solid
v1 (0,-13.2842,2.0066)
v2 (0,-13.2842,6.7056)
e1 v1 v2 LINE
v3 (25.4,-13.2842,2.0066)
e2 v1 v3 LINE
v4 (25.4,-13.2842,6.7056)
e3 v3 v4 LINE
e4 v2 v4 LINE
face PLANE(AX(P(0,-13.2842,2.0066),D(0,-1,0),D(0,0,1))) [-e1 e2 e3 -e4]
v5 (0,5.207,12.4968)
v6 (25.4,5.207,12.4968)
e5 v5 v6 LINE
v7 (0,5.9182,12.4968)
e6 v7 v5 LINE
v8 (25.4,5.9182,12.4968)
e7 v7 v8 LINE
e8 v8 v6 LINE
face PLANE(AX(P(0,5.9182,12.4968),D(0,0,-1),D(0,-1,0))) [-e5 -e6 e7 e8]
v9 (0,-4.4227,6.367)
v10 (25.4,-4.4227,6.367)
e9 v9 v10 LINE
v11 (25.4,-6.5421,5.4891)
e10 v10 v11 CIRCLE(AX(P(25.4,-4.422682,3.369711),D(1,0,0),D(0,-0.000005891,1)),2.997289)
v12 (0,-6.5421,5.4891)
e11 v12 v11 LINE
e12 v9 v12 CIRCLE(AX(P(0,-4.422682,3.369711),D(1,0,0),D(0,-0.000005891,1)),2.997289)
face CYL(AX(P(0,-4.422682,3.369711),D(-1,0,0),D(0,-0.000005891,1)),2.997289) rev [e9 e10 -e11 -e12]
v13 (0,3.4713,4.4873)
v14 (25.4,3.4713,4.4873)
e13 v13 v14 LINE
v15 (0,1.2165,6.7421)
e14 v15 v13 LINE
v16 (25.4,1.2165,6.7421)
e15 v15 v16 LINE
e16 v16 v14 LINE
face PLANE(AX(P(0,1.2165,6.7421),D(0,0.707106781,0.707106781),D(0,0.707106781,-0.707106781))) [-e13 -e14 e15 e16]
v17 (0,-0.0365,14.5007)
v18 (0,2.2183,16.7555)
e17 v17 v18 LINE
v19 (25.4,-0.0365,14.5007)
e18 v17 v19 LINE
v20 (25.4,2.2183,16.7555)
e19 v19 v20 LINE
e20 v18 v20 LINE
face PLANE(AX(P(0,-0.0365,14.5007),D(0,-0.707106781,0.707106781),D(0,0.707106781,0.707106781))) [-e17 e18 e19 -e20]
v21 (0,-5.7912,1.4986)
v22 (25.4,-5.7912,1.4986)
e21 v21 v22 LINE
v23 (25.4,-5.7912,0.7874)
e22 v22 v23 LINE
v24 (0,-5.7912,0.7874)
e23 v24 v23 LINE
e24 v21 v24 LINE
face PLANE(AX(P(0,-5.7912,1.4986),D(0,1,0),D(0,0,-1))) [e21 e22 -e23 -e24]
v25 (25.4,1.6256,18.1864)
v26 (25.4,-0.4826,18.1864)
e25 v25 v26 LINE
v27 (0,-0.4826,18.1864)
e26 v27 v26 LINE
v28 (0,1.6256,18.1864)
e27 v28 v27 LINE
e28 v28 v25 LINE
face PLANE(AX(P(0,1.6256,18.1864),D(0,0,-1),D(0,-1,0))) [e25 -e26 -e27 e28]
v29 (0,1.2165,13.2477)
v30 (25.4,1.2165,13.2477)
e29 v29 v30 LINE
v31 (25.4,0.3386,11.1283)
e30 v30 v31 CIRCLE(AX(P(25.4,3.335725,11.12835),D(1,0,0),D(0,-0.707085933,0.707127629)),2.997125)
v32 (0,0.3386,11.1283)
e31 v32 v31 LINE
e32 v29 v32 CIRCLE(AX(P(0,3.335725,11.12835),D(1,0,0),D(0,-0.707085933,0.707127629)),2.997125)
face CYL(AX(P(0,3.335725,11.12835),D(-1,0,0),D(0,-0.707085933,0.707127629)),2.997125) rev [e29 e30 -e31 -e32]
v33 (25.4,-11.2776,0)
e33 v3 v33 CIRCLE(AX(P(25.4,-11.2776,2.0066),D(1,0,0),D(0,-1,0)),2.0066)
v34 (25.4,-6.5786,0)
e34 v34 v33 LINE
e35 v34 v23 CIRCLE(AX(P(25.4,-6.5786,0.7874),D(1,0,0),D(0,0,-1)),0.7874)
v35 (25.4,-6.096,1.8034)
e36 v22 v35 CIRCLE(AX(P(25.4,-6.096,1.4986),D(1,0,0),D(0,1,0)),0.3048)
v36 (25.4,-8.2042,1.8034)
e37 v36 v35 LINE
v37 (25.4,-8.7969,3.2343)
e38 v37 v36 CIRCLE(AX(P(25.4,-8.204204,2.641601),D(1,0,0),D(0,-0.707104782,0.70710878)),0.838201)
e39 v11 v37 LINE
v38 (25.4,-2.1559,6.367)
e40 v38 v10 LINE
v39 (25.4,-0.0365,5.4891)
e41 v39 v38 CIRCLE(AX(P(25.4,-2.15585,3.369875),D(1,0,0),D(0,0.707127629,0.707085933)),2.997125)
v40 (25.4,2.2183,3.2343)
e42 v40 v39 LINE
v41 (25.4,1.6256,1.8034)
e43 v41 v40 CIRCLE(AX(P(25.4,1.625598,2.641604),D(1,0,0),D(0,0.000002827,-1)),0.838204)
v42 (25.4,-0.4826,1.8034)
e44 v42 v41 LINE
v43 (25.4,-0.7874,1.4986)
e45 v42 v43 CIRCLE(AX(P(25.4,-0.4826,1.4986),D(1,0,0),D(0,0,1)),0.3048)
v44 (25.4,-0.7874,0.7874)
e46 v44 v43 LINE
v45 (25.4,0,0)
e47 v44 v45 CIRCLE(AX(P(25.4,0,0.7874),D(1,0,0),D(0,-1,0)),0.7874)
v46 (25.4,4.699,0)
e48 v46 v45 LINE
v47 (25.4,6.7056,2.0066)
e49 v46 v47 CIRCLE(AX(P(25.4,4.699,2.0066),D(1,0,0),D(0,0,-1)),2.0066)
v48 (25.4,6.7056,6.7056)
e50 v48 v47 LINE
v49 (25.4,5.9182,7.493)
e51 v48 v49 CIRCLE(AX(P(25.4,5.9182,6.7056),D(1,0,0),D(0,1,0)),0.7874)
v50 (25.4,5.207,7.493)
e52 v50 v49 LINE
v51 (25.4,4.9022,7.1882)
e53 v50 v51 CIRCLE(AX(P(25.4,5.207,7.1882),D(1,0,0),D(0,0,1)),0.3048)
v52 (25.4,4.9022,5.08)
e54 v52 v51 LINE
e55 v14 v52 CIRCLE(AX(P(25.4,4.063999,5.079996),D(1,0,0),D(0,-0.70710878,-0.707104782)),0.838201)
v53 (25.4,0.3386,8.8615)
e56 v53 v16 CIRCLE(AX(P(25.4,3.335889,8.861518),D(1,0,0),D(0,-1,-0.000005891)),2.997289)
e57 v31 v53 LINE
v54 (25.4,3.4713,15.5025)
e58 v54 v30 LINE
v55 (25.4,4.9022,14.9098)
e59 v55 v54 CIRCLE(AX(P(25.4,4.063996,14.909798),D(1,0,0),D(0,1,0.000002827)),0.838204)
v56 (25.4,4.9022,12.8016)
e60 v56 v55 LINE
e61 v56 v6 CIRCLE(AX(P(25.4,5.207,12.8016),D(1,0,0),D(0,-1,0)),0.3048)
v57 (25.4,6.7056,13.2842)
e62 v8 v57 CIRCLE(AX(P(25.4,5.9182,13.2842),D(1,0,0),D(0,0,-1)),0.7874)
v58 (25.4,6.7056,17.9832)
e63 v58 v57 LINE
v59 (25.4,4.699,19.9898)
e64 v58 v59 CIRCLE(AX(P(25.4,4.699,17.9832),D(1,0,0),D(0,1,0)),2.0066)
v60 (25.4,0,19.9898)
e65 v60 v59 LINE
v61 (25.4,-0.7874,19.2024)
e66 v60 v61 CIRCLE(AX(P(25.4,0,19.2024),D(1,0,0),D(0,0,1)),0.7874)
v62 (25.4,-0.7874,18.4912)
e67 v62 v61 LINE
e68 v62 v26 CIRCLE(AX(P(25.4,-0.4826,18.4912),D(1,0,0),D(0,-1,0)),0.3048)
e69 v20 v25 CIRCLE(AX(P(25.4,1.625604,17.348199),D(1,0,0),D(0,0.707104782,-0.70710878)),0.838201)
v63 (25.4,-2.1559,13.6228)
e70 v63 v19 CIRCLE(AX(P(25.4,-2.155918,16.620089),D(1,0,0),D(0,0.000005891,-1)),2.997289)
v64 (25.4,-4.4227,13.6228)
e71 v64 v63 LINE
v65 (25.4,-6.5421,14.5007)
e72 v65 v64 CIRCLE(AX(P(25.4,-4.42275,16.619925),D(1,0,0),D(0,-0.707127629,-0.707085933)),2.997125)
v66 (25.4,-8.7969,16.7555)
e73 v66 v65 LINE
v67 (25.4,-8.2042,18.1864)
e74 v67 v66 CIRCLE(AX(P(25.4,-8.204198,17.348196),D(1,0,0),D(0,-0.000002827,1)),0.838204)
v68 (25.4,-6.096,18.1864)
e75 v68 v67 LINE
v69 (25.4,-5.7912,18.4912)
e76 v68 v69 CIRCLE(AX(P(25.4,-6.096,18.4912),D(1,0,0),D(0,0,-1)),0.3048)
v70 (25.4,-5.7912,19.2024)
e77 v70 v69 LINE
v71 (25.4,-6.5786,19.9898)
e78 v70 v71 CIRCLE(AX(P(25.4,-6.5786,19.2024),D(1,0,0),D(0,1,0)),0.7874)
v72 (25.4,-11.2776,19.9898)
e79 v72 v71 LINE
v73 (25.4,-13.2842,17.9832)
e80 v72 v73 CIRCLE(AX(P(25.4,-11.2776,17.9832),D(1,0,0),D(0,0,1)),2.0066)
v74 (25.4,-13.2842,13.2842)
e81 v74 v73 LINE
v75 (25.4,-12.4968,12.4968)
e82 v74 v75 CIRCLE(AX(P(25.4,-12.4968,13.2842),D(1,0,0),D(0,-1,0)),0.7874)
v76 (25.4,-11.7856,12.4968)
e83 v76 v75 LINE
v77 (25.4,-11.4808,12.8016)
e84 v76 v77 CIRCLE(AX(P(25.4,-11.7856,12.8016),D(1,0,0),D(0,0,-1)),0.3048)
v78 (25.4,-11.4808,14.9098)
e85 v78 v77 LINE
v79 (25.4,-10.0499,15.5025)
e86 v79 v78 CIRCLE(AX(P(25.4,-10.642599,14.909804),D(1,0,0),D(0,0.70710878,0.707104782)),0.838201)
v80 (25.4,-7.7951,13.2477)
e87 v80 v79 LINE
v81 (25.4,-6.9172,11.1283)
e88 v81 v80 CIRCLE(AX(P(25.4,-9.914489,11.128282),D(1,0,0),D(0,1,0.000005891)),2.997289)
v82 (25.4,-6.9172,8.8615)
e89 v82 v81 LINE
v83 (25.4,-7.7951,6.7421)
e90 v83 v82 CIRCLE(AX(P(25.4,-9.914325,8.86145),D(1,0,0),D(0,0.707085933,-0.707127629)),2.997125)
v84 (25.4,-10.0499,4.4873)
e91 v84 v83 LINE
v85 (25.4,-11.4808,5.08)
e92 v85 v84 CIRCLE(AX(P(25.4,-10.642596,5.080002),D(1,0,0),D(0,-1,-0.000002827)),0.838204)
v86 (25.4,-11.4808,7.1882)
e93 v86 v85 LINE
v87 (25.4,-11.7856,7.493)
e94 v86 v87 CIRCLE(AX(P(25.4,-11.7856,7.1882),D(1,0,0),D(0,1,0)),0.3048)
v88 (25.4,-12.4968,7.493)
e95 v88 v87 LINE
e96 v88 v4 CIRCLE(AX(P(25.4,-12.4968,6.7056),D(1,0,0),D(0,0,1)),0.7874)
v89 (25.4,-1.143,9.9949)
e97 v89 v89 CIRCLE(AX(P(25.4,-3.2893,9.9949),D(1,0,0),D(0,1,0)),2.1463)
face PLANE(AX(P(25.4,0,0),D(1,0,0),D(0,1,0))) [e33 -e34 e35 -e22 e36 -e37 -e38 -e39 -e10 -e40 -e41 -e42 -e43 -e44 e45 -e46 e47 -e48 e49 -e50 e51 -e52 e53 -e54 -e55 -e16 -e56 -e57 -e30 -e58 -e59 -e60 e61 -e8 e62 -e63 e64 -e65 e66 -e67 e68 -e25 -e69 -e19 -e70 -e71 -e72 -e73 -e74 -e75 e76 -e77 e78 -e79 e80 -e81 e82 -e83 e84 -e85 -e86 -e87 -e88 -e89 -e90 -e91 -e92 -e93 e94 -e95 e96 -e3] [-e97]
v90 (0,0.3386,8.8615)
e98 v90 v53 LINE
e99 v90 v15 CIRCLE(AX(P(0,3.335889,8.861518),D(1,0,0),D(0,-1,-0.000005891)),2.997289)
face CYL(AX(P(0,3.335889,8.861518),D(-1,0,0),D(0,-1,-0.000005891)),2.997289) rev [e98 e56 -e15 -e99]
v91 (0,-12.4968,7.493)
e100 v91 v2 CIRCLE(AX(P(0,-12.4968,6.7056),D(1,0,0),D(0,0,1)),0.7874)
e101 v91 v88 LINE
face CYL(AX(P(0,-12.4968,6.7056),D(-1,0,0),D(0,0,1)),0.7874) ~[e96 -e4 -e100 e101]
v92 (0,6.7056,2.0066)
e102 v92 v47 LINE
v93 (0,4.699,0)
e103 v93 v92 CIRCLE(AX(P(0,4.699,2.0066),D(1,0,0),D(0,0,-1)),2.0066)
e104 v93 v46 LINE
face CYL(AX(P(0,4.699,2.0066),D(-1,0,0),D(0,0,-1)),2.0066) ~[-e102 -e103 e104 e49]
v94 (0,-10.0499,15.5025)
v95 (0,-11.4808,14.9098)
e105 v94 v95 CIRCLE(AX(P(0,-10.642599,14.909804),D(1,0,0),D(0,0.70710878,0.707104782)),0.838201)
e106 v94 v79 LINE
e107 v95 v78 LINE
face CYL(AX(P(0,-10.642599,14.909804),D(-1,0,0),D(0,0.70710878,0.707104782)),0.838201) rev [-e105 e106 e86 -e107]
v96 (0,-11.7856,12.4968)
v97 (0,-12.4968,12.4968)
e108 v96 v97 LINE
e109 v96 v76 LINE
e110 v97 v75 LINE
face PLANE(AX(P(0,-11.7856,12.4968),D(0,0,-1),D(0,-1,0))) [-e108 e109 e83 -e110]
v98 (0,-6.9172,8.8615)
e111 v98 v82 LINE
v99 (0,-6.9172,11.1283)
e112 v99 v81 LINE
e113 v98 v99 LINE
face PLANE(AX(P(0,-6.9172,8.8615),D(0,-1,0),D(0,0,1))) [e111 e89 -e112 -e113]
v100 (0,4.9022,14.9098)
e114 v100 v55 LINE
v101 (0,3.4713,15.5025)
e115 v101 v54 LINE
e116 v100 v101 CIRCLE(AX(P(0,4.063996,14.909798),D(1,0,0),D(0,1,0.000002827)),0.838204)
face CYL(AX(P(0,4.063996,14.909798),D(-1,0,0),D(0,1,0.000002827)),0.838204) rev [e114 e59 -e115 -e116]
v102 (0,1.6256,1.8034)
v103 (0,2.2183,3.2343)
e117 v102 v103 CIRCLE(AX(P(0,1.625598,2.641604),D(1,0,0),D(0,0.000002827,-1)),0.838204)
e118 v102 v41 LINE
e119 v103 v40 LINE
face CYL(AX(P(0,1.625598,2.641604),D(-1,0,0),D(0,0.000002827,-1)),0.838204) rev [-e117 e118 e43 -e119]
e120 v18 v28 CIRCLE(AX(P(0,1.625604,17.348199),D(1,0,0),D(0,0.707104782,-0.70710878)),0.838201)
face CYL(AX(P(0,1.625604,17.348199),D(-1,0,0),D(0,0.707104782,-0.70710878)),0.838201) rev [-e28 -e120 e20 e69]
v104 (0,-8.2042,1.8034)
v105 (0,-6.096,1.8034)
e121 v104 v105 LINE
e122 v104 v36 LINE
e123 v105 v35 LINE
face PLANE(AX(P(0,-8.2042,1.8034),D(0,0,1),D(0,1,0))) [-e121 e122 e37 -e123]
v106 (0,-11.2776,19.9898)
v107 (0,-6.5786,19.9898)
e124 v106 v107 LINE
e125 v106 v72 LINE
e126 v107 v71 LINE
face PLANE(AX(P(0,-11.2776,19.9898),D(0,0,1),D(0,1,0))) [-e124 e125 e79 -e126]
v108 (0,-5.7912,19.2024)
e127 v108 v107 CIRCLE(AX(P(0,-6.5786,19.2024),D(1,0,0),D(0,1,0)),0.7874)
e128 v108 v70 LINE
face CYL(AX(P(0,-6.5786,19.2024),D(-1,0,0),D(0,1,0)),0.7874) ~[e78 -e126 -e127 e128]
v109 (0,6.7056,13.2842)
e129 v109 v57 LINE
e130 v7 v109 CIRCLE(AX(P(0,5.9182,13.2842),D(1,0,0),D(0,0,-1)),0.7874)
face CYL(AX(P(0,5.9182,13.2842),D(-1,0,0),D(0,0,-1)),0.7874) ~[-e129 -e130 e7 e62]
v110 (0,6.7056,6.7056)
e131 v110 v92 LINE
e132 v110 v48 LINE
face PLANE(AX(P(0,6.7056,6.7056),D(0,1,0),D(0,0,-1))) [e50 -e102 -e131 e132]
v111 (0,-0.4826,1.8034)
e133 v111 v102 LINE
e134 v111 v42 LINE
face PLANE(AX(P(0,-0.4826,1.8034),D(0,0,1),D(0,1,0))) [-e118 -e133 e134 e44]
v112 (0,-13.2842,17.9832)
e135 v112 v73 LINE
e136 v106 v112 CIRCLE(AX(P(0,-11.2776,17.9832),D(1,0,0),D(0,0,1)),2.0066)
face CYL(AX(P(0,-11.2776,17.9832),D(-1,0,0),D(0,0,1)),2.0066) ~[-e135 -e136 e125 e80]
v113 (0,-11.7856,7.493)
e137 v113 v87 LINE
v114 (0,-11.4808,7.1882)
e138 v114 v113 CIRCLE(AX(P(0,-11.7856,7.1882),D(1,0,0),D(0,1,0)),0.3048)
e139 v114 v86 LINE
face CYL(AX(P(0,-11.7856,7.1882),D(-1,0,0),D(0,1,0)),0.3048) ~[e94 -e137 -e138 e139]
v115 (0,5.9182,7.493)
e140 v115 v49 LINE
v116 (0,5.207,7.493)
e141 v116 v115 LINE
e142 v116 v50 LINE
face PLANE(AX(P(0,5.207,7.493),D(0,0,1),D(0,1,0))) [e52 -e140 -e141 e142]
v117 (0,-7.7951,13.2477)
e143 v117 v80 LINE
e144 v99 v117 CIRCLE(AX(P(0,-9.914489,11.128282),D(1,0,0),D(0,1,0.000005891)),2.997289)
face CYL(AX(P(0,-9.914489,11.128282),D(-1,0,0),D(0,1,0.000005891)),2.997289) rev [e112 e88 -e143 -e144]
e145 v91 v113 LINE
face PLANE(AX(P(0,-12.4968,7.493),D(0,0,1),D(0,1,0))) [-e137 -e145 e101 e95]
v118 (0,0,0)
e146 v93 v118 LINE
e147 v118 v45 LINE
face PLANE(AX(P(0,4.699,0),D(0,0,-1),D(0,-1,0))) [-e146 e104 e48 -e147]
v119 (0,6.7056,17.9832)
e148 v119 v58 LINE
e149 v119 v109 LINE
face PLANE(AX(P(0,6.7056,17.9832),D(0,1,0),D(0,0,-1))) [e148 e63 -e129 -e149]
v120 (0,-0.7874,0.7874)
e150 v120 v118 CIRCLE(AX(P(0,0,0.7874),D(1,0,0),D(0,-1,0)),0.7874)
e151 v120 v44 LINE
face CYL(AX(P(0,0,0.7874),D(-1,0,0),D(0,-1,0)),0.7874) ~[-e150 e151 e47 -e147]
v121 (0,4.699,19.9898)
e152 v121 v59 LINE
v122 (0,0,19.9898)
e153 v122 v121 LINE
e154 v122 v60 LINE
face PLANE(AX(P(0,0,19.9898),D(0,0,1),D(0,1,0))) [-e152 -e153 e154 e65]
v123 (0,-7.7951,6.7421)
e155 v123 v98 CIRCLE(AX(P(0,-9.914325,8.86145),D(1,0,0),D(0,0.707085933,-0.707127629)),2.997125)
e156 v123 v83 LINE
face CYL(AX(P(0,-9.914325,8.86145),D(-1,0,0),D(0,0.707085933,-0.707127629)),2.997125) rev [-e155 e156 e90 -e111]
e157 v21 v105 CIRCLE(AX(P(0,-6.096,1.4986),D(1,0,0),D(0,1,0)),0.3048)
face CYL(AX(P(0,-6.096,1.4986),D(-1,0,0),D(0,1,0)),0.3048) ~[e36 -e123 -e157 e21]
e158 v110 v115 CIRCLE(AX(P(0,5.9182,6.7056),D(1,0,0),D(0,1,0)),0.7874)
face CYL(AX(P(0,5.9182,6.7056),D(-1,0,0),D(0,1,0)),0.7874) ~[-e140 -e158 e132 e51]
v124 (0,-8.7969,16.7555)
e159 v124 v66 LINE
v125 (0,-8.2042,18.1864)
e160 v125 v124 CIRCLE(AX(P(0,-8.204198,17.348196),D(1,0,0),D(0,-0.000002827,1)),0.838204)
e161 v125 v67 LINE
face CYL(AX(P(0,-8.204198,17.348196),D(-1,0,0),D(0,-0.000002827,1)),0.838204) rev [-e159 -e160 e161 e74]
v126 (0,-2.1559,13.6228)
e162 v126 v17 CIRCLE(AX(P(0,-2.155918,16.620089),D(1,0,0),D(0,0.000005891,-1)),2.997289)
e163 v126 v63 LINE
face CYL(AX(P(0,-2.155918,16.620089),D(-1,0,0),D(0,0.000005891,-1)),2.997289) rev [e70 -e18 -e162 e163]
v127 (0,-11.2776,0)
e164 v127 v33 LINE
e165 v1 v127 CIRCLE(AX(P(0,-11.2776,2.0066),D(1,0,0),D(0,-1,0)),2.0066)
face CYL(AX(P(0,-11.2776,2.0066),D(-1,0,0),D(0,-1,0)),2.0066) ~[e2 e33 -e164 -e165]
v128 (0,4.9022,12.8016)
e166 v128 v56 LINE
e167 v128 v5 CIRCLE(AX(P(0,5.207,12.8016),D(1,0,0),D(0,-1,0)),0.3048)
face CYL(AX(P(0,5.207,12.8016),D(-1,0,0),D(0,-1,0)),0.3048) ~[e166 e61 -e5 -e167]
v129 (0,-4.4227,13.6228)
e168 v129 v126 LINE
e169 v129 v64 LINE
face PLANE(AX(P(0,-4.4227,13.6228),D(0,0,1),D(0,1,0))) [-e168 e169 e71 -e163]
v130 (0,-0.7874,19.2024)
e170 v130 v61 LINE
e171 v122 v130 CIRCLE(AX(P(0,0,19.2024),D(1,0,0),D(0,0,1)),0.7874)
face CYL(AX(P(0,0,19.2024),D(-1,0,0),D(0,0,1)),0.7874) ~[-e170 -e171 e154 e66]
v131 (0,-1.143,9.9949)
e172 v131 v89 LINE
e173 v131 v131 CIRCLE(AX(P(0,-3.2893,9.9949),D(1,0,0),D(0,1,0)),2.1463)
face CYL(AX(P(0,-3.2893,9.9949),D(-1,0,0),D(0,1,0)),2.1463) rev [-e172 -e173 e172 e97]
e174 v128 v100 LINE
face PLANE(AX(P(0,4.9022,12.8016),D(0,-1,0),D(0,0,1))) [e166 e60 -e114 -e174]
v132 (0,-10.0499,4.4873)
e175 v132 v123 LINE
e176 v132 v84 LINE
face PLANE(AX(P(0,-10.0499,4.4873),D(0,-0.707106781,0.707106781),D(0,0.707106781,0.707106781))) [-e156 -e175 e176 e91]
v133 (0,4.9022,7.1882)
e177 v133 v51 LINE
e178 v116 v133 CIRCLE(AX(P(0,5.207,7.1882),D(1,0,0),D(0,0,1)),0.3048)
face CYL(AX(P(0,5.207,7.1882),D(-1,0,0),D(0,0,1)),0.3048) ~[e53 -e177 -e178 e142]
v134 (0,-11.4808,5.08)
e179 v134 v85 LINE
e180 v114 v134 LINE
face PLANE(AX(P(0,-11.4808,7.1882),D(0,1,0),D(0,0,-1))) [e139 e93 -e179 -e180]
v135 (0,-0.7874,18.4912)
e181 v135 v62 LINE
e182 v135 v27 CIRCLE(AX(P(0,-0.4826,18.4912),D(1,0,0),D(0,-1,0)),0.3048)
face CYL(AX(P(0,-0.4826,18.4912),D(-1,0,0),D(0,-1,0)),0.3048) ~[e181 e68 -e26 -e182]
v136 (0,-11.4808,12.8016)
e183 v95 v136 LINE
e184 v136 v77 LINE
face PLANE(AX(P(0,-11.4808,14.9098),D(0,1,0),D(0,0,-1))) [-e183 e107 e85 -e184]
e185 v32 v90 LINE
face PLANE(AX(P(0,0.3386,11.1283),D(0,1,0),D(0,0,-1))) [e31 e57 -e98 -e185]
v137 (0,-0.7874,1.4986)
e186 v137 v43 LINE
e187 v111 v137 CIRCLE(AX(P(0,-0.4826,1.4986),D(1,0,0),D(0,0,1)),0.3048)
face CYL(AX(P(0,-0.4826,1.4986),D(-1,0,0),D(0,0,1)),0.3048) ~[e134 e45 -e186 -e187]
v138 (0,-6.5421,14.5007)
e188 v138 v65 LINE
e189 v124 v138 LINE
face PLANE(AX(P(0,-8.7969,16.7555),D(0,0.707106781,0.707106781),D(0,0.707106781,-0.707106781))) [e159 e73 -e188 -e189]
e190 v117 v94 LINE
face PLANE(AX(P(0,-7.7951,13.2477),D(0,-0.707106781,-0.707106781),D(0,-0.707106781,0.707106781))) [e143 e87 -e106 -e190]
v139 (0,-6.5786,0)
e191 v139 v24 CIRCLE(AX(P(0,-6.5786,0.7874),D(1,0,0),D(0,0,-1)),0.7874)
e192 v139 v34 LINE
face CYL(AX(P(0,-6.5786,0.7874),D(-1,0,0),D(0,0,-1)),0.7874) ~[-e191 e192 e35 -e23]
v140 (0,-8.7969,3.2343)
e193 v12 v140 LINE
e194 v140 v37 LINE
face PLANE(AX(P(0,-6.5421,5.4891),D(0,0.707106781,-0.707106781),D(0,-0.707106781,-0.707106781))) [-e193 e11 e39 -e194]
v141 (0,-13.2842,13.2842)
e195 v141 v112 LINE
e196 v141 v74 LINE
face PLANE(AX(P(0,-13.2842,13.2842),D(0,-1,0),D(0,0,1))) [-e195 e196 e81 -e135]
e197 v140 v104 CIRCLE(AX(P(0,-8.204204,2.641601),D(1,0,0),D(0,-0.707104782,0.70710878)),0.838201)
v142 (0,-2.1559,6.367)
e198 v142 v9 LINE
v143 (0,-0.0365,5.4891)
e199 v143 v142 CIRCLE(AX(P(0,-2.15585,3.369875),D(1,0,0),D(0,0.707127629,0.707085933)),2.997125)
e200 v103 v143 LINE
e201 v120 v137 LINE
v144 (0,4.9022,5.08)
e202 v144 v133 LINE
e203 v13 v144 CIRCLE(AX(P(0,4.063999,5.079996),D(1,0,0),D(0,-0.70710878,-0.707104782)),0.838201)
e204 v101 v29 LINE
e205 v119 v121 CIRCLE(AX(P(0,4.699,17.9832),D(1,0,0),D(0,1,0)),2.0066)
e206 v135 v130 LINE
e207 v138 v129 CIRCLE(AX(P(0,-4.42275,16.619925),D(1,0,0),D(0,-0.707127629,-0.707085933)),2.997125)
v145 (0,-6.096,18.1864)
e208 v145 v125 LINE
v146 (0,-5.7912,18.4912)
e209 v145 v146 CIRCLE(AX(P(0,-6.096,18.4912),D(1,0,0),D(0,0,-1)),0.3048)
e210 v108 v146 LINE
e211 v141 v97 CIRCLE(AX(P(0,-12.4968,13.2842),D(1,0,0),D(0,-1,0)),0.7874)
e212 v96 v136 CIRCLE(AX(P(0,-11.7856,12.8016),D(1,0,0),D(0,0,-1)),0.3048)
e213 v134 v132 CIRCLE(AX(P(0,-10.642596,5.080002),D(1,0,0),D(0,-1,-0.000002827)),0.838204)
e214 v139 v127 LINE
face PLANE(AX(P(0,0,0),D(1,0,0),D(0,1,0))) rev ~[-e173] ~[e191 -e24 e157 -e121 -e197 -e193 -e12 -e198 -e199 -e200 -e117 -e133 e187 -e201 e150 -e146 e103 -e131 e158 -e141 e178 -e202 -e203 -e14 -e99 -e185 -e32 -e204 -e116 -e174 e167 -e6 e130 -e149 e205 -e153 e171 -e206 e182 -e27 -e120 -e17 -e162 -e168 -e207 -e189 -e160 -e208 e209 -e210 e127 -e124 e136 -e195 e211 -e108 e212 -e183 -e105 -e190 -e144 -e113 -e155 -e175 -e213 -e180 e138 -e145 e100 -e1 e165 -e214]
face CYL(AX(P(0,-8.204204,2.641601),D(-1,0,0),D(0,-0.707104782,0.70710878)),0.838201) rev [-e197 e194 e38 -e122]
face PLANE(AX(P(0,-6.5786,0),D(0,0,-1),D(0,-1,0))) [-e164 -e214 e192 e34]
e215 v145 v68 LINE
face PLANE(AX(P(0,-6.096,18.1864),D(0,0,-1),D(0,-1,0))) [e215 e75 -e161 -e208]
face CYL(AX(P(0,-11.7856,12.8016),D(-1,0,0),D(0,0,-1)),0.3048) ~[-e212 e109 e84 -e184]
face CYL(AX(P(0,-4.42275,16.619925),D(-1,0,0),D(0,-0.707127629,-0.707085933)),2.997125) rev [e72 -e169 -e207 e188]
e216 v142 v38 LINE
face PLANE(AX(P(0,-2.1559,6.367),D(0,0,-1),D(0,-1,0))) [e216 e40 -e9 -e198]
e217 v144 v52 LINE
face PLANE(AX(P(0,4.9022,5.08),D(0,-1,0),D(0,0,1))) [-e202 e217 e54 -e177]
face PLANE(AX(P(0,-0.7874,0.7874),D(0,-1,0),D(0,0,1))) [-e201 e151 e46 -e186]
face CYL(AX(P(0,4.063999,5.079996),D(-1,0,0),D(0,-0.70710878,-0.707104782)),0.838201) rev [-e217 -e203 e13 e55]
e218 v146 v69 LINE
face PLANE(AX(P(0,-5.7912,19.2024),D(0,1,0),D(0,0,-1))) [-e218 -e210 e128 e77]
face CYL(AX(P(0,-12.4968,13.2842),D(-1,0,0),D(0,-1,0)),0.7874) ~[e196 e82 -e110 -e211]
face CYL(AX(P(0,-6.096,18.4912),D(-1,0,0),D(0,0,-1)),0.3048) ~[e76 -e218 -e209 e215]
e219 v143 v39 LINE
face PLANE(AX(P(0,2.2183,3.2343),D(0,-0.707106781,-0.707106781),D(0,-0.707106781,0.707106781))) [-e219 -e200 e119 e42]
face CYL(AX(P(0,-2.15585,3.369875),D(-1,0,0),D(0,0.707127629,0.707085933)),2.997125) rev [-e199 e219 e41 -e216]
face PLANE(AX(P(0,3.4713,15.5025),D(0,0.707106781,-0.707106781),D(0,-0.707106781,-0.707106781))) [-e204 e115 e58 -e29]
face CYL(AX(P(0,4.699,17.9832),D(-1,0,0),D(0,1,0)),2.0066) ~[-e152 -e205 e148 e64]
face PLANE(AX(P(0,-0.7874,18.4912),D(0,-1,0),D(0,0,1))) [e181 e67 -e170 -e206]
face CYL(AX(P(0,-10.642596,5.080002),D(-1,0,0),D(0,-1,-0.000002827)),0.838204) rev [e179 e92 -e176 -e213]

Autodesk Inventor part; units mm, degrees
ref_plane "YZ Plane" through (0, 0, 0) normal (1, 0, 0) x (0, 1, 0)
ref_plane "XZ Plane" through (0, 0, 0) normal (0, 1, 0) x (-1, 0, 0)
ref_plane "XY Plane" through (0, 0, 0) normal (0, 0, 1) x (1, 0, 0)
sketch "Sketch1" plane through (0, 0, 0) normal (1, 0, 0) x (0, 1, 0)
  circle A0 centre (-3.2893, 9.9949) radius 2.1463
  line L0 (2.2183, 3.2343) -> (-0.0365, 5.4891)
  arc A1 (1.6256, 1.8034) -> (2.2183, 3.2343) centre (1.6256, 2.6416) ccw
  line L1 (-0.4826, 1.8034) -> (1.6256, 1.8034)
  arc A2 (-0.4826, 1.8034) -> (-0.7874, 1.4986) centre (-0.4826, 1.4986) ccw
  line L2 (-0.7874, 0.7874) -> (-0.7874, 1.4986)
  arc A3 (-0.7874, 0.7874) -> (0, 0) centre (0, 0.7874) ccw
  line L3 (4.699, 0) -> (0, 0)
  arc A4 (4.699, 0) -> (6.7056, 2.0066) centre (4.699, 2.0066) ccw
  line L4 (6.7056, 6.7056) -> (6.7056, 2.0066)
  arc A5 (6.7056, 6.7056) -> (5.9182, 7.493) centre (5.9182, 6.7056) ccw
  line L5 (5.207, 7.493) -> (5.9182, 7.493)
  arc A6 (5.207, 7.493) -> (4.9022, 7.1882) centre (5.207, 7.1882) ccw
  line L6 (4.9022, 5.08) -> (4.9022, 7.1882)
  arc A7 (3.4713, 4.4873) -> (4.9022, 5.08) centre (4.064, 5.08) ccw
  line L7 (1.2165, 6.7421) -> (3.4713, 4.4873)
  arc A8 (0.3386, 8.8615) -> (1.2165, 6.7421) centre (3.3358, 8.8615) ccw
  line L8 (0.3386, 11.1283) -> (0.3386, 8.8615)
  arc A9 (1.2165, 13.2477) -> (0.3386, 11.1283) centre (3.3358, 11.1283) ccw
  line L9 (3.4713, 15.5025) -> (1.2165, 13.2477)
  arc A10 (4.9022, 14.9098) -> (3.4713, 15.5025) centre (4.064, 14.9098) ccw
  line L10 (4.9022, 12.8016) -> (4.9022, 14.9098)
  arc A11 (4.9022, 12.8016) -> (5.207, 12.4968) centre (5.207, 12.8016) ccw
  line L11 (5.9182, 12.4968) -> (5.207, 12.4968)
  arc A12 (5.9182, 12.4968) -> (6.7056, 13.2842) centre (5.9182, 13.2842) ccw
  line L12 (6.7056, 17.9832) -> (6.7056, 13.2842)
  arc A13 (6.7056, 17.9832) -> (4.699, 19.9898) centre (4.699, 17.9832) ccw
  line L13 (0, 19.9898) -> (4.699, 19.9898)
  arc A14 (0, 19.9898) -> (-0.7874, 19.2024) centre (0, 19.2024) ccw
  line L14 (-0.7874, 18.4912) -> (-0.7874, 19.2024)
  arc A15 (-0.7874, 18.4912) -> (-0.4826, 18.1864) centre (-0.4826, 18.4912) ccw
  line L15 (1.6256, 18.1864) -> (-0.4826, 18.1864)
  arc A16 (2.2183, 16.7555) -> (1.6256, 18.1864) centre (1.6256, 17.3482) ccw
  line L16 (-0.0365, 14.5007) -> (2.2183, 16.7555)
  arc A17 (-2.1559, 13.6228) -> (-0.0365, 14.5007) centre (-2.1559, 16.62) ccw
  line L17 (-4.4227, 13.6228) -> (-2.1559, 13.6228)
  arc A18 (-6.5421, 14.5007) -> (-4.4227, 13.6228) centre (-4.4227, 16.62) ccw
  line L18 (-8.7969, 16.7555) -> (-6.5421, 14.5007)
  arc A19 (-8.2042, 18.1864) -> (-8.7969, 16.7555) centre (-8.2042, 17.3482) ccw
  line L19 (-6.096, 18.1864) -> (-8.2042, 18.1864)
  arc A20 (-6.096, 18.1864) -> (-5.7912, 18.4912) centre (-6.096, 18.4912) ccw
  line L20 (-5.7912, 19.2024) -> (-5.7912, 18.4912)
  arc A21 (-5.7912, 19.2024) -> (-6.5786, 19.9898) centre (-6.5786, 19.2024) ccw
  line L21 (-11.2776, 19.9898) -> (-6.5786, 19.9898)
  arc A22 (-11.2776, 19.9898) -> (-13.2842, 17.9832) centre (-11.2776, 17.9832) ccw
  line L22 (-13.2842, 13.2842) -> (-13.2842, 17.9832)
  arc A23 (-13.2842, 13.2842) -> (-12.4968, 12.4968) centre (-12.4968, 13.2842) ccw
  line L23 (-11.7856, 12.4968) -> (-12.4968, 12.4968)
  arc A24 (-11.7856, 12.4968) -> (-11.4808, 12.8016) centre (-11.7856, 12.8016) ccw
  line L24 (-11.4808, 14.9098) -> (-11.4808, 12.8016)
  arc A25 (-10.0499, 15.5025) -> (-11.4808, 14.9098) centre (-10.6426, 14.9098) ccw
  line L25 (-7.7951, 13.2477) -> (-10.0499, 15.5025)
  arc A26 (-6.9172, 11.1283) -> (-7.7951, 13.2477) centre (-9.9144, 11.1283) ccw
  line L26 (-6.9172, 8.8615) -> (-6.9172, 11.1283)
  arc A27 (-7.7951, 6.7421) -> (-6.9172, 8.8615) centre (-9.9144, 8.8615) ccw
  line L27 (-10.0499, 4.4873) -> (-7.7951, 6.7421)
  arc A28 (-11.4808, 5.08) -> (-10.0499, 4.4873) centre (-10.6426, 5.08) ccw
  line L28 (-11.4808, 7.1882) -> (-11.4808, 5.08)
  arc A29 (-11.4808, 7.1882) -> (-11.7856, 7.493) centre (-11.7856, 7.1882) ccw
  line L29 (-12.4968, 7.493) -> (-11.7856, 7.493)
  arc A30 (-12.4968, 7.493) -> (-13.2842, 6.7056) centre (-12.4968, 6.7056) ccw
  line L30 (-13.2842, 2.0066) -> (-13.2842, 6.7056)
  arc A31 (-13.2842, 2.0066) -> (-11.2776, 0) centre (-11.2776, 2.0066) ccw
  line L31 (-6.5786, 0) -> (-11.2776, 0)
  arc A32 (-6.5786, 0) -> (-5.7912, 0.7874) centre (-6.5786, 0.7874) ccw
  line L32 (-5.7912, 1.4986) -> (-5.7912, 0.7874)
  arc A33 (-5.7912, 1.4986) -> (-6.096, 1.8034) centre (-6.096, 1.4986) ccw
  line L33 (-8.2042, 1.8034) -> (-6.096, 1.8034)
  arc A34 (-8.7969, 3.2343) -> (-8.2042, 1.8034) centre (-8.2042, 2.6416) ccw
  line L34 (-6.5421, 5.4891) -> (-8.7969, 3.2343)
  arc A35 (-4.4227, 6.367) -> (-6.5421, 5.4891) centre (-4.4227, 3.3698) ccw
  line L35 (-2.1559, 6.367) -> (-4.4227, 6.367)
  arc A36 (-0.0365, 5.4891) -> (-2.1559, 6.367) centre (-2.1559, 3.3698) ccw
extrude "Extrusion1" add sketch "Sketch1" along normal blind 25.4
properties part number "Extruson profile"
